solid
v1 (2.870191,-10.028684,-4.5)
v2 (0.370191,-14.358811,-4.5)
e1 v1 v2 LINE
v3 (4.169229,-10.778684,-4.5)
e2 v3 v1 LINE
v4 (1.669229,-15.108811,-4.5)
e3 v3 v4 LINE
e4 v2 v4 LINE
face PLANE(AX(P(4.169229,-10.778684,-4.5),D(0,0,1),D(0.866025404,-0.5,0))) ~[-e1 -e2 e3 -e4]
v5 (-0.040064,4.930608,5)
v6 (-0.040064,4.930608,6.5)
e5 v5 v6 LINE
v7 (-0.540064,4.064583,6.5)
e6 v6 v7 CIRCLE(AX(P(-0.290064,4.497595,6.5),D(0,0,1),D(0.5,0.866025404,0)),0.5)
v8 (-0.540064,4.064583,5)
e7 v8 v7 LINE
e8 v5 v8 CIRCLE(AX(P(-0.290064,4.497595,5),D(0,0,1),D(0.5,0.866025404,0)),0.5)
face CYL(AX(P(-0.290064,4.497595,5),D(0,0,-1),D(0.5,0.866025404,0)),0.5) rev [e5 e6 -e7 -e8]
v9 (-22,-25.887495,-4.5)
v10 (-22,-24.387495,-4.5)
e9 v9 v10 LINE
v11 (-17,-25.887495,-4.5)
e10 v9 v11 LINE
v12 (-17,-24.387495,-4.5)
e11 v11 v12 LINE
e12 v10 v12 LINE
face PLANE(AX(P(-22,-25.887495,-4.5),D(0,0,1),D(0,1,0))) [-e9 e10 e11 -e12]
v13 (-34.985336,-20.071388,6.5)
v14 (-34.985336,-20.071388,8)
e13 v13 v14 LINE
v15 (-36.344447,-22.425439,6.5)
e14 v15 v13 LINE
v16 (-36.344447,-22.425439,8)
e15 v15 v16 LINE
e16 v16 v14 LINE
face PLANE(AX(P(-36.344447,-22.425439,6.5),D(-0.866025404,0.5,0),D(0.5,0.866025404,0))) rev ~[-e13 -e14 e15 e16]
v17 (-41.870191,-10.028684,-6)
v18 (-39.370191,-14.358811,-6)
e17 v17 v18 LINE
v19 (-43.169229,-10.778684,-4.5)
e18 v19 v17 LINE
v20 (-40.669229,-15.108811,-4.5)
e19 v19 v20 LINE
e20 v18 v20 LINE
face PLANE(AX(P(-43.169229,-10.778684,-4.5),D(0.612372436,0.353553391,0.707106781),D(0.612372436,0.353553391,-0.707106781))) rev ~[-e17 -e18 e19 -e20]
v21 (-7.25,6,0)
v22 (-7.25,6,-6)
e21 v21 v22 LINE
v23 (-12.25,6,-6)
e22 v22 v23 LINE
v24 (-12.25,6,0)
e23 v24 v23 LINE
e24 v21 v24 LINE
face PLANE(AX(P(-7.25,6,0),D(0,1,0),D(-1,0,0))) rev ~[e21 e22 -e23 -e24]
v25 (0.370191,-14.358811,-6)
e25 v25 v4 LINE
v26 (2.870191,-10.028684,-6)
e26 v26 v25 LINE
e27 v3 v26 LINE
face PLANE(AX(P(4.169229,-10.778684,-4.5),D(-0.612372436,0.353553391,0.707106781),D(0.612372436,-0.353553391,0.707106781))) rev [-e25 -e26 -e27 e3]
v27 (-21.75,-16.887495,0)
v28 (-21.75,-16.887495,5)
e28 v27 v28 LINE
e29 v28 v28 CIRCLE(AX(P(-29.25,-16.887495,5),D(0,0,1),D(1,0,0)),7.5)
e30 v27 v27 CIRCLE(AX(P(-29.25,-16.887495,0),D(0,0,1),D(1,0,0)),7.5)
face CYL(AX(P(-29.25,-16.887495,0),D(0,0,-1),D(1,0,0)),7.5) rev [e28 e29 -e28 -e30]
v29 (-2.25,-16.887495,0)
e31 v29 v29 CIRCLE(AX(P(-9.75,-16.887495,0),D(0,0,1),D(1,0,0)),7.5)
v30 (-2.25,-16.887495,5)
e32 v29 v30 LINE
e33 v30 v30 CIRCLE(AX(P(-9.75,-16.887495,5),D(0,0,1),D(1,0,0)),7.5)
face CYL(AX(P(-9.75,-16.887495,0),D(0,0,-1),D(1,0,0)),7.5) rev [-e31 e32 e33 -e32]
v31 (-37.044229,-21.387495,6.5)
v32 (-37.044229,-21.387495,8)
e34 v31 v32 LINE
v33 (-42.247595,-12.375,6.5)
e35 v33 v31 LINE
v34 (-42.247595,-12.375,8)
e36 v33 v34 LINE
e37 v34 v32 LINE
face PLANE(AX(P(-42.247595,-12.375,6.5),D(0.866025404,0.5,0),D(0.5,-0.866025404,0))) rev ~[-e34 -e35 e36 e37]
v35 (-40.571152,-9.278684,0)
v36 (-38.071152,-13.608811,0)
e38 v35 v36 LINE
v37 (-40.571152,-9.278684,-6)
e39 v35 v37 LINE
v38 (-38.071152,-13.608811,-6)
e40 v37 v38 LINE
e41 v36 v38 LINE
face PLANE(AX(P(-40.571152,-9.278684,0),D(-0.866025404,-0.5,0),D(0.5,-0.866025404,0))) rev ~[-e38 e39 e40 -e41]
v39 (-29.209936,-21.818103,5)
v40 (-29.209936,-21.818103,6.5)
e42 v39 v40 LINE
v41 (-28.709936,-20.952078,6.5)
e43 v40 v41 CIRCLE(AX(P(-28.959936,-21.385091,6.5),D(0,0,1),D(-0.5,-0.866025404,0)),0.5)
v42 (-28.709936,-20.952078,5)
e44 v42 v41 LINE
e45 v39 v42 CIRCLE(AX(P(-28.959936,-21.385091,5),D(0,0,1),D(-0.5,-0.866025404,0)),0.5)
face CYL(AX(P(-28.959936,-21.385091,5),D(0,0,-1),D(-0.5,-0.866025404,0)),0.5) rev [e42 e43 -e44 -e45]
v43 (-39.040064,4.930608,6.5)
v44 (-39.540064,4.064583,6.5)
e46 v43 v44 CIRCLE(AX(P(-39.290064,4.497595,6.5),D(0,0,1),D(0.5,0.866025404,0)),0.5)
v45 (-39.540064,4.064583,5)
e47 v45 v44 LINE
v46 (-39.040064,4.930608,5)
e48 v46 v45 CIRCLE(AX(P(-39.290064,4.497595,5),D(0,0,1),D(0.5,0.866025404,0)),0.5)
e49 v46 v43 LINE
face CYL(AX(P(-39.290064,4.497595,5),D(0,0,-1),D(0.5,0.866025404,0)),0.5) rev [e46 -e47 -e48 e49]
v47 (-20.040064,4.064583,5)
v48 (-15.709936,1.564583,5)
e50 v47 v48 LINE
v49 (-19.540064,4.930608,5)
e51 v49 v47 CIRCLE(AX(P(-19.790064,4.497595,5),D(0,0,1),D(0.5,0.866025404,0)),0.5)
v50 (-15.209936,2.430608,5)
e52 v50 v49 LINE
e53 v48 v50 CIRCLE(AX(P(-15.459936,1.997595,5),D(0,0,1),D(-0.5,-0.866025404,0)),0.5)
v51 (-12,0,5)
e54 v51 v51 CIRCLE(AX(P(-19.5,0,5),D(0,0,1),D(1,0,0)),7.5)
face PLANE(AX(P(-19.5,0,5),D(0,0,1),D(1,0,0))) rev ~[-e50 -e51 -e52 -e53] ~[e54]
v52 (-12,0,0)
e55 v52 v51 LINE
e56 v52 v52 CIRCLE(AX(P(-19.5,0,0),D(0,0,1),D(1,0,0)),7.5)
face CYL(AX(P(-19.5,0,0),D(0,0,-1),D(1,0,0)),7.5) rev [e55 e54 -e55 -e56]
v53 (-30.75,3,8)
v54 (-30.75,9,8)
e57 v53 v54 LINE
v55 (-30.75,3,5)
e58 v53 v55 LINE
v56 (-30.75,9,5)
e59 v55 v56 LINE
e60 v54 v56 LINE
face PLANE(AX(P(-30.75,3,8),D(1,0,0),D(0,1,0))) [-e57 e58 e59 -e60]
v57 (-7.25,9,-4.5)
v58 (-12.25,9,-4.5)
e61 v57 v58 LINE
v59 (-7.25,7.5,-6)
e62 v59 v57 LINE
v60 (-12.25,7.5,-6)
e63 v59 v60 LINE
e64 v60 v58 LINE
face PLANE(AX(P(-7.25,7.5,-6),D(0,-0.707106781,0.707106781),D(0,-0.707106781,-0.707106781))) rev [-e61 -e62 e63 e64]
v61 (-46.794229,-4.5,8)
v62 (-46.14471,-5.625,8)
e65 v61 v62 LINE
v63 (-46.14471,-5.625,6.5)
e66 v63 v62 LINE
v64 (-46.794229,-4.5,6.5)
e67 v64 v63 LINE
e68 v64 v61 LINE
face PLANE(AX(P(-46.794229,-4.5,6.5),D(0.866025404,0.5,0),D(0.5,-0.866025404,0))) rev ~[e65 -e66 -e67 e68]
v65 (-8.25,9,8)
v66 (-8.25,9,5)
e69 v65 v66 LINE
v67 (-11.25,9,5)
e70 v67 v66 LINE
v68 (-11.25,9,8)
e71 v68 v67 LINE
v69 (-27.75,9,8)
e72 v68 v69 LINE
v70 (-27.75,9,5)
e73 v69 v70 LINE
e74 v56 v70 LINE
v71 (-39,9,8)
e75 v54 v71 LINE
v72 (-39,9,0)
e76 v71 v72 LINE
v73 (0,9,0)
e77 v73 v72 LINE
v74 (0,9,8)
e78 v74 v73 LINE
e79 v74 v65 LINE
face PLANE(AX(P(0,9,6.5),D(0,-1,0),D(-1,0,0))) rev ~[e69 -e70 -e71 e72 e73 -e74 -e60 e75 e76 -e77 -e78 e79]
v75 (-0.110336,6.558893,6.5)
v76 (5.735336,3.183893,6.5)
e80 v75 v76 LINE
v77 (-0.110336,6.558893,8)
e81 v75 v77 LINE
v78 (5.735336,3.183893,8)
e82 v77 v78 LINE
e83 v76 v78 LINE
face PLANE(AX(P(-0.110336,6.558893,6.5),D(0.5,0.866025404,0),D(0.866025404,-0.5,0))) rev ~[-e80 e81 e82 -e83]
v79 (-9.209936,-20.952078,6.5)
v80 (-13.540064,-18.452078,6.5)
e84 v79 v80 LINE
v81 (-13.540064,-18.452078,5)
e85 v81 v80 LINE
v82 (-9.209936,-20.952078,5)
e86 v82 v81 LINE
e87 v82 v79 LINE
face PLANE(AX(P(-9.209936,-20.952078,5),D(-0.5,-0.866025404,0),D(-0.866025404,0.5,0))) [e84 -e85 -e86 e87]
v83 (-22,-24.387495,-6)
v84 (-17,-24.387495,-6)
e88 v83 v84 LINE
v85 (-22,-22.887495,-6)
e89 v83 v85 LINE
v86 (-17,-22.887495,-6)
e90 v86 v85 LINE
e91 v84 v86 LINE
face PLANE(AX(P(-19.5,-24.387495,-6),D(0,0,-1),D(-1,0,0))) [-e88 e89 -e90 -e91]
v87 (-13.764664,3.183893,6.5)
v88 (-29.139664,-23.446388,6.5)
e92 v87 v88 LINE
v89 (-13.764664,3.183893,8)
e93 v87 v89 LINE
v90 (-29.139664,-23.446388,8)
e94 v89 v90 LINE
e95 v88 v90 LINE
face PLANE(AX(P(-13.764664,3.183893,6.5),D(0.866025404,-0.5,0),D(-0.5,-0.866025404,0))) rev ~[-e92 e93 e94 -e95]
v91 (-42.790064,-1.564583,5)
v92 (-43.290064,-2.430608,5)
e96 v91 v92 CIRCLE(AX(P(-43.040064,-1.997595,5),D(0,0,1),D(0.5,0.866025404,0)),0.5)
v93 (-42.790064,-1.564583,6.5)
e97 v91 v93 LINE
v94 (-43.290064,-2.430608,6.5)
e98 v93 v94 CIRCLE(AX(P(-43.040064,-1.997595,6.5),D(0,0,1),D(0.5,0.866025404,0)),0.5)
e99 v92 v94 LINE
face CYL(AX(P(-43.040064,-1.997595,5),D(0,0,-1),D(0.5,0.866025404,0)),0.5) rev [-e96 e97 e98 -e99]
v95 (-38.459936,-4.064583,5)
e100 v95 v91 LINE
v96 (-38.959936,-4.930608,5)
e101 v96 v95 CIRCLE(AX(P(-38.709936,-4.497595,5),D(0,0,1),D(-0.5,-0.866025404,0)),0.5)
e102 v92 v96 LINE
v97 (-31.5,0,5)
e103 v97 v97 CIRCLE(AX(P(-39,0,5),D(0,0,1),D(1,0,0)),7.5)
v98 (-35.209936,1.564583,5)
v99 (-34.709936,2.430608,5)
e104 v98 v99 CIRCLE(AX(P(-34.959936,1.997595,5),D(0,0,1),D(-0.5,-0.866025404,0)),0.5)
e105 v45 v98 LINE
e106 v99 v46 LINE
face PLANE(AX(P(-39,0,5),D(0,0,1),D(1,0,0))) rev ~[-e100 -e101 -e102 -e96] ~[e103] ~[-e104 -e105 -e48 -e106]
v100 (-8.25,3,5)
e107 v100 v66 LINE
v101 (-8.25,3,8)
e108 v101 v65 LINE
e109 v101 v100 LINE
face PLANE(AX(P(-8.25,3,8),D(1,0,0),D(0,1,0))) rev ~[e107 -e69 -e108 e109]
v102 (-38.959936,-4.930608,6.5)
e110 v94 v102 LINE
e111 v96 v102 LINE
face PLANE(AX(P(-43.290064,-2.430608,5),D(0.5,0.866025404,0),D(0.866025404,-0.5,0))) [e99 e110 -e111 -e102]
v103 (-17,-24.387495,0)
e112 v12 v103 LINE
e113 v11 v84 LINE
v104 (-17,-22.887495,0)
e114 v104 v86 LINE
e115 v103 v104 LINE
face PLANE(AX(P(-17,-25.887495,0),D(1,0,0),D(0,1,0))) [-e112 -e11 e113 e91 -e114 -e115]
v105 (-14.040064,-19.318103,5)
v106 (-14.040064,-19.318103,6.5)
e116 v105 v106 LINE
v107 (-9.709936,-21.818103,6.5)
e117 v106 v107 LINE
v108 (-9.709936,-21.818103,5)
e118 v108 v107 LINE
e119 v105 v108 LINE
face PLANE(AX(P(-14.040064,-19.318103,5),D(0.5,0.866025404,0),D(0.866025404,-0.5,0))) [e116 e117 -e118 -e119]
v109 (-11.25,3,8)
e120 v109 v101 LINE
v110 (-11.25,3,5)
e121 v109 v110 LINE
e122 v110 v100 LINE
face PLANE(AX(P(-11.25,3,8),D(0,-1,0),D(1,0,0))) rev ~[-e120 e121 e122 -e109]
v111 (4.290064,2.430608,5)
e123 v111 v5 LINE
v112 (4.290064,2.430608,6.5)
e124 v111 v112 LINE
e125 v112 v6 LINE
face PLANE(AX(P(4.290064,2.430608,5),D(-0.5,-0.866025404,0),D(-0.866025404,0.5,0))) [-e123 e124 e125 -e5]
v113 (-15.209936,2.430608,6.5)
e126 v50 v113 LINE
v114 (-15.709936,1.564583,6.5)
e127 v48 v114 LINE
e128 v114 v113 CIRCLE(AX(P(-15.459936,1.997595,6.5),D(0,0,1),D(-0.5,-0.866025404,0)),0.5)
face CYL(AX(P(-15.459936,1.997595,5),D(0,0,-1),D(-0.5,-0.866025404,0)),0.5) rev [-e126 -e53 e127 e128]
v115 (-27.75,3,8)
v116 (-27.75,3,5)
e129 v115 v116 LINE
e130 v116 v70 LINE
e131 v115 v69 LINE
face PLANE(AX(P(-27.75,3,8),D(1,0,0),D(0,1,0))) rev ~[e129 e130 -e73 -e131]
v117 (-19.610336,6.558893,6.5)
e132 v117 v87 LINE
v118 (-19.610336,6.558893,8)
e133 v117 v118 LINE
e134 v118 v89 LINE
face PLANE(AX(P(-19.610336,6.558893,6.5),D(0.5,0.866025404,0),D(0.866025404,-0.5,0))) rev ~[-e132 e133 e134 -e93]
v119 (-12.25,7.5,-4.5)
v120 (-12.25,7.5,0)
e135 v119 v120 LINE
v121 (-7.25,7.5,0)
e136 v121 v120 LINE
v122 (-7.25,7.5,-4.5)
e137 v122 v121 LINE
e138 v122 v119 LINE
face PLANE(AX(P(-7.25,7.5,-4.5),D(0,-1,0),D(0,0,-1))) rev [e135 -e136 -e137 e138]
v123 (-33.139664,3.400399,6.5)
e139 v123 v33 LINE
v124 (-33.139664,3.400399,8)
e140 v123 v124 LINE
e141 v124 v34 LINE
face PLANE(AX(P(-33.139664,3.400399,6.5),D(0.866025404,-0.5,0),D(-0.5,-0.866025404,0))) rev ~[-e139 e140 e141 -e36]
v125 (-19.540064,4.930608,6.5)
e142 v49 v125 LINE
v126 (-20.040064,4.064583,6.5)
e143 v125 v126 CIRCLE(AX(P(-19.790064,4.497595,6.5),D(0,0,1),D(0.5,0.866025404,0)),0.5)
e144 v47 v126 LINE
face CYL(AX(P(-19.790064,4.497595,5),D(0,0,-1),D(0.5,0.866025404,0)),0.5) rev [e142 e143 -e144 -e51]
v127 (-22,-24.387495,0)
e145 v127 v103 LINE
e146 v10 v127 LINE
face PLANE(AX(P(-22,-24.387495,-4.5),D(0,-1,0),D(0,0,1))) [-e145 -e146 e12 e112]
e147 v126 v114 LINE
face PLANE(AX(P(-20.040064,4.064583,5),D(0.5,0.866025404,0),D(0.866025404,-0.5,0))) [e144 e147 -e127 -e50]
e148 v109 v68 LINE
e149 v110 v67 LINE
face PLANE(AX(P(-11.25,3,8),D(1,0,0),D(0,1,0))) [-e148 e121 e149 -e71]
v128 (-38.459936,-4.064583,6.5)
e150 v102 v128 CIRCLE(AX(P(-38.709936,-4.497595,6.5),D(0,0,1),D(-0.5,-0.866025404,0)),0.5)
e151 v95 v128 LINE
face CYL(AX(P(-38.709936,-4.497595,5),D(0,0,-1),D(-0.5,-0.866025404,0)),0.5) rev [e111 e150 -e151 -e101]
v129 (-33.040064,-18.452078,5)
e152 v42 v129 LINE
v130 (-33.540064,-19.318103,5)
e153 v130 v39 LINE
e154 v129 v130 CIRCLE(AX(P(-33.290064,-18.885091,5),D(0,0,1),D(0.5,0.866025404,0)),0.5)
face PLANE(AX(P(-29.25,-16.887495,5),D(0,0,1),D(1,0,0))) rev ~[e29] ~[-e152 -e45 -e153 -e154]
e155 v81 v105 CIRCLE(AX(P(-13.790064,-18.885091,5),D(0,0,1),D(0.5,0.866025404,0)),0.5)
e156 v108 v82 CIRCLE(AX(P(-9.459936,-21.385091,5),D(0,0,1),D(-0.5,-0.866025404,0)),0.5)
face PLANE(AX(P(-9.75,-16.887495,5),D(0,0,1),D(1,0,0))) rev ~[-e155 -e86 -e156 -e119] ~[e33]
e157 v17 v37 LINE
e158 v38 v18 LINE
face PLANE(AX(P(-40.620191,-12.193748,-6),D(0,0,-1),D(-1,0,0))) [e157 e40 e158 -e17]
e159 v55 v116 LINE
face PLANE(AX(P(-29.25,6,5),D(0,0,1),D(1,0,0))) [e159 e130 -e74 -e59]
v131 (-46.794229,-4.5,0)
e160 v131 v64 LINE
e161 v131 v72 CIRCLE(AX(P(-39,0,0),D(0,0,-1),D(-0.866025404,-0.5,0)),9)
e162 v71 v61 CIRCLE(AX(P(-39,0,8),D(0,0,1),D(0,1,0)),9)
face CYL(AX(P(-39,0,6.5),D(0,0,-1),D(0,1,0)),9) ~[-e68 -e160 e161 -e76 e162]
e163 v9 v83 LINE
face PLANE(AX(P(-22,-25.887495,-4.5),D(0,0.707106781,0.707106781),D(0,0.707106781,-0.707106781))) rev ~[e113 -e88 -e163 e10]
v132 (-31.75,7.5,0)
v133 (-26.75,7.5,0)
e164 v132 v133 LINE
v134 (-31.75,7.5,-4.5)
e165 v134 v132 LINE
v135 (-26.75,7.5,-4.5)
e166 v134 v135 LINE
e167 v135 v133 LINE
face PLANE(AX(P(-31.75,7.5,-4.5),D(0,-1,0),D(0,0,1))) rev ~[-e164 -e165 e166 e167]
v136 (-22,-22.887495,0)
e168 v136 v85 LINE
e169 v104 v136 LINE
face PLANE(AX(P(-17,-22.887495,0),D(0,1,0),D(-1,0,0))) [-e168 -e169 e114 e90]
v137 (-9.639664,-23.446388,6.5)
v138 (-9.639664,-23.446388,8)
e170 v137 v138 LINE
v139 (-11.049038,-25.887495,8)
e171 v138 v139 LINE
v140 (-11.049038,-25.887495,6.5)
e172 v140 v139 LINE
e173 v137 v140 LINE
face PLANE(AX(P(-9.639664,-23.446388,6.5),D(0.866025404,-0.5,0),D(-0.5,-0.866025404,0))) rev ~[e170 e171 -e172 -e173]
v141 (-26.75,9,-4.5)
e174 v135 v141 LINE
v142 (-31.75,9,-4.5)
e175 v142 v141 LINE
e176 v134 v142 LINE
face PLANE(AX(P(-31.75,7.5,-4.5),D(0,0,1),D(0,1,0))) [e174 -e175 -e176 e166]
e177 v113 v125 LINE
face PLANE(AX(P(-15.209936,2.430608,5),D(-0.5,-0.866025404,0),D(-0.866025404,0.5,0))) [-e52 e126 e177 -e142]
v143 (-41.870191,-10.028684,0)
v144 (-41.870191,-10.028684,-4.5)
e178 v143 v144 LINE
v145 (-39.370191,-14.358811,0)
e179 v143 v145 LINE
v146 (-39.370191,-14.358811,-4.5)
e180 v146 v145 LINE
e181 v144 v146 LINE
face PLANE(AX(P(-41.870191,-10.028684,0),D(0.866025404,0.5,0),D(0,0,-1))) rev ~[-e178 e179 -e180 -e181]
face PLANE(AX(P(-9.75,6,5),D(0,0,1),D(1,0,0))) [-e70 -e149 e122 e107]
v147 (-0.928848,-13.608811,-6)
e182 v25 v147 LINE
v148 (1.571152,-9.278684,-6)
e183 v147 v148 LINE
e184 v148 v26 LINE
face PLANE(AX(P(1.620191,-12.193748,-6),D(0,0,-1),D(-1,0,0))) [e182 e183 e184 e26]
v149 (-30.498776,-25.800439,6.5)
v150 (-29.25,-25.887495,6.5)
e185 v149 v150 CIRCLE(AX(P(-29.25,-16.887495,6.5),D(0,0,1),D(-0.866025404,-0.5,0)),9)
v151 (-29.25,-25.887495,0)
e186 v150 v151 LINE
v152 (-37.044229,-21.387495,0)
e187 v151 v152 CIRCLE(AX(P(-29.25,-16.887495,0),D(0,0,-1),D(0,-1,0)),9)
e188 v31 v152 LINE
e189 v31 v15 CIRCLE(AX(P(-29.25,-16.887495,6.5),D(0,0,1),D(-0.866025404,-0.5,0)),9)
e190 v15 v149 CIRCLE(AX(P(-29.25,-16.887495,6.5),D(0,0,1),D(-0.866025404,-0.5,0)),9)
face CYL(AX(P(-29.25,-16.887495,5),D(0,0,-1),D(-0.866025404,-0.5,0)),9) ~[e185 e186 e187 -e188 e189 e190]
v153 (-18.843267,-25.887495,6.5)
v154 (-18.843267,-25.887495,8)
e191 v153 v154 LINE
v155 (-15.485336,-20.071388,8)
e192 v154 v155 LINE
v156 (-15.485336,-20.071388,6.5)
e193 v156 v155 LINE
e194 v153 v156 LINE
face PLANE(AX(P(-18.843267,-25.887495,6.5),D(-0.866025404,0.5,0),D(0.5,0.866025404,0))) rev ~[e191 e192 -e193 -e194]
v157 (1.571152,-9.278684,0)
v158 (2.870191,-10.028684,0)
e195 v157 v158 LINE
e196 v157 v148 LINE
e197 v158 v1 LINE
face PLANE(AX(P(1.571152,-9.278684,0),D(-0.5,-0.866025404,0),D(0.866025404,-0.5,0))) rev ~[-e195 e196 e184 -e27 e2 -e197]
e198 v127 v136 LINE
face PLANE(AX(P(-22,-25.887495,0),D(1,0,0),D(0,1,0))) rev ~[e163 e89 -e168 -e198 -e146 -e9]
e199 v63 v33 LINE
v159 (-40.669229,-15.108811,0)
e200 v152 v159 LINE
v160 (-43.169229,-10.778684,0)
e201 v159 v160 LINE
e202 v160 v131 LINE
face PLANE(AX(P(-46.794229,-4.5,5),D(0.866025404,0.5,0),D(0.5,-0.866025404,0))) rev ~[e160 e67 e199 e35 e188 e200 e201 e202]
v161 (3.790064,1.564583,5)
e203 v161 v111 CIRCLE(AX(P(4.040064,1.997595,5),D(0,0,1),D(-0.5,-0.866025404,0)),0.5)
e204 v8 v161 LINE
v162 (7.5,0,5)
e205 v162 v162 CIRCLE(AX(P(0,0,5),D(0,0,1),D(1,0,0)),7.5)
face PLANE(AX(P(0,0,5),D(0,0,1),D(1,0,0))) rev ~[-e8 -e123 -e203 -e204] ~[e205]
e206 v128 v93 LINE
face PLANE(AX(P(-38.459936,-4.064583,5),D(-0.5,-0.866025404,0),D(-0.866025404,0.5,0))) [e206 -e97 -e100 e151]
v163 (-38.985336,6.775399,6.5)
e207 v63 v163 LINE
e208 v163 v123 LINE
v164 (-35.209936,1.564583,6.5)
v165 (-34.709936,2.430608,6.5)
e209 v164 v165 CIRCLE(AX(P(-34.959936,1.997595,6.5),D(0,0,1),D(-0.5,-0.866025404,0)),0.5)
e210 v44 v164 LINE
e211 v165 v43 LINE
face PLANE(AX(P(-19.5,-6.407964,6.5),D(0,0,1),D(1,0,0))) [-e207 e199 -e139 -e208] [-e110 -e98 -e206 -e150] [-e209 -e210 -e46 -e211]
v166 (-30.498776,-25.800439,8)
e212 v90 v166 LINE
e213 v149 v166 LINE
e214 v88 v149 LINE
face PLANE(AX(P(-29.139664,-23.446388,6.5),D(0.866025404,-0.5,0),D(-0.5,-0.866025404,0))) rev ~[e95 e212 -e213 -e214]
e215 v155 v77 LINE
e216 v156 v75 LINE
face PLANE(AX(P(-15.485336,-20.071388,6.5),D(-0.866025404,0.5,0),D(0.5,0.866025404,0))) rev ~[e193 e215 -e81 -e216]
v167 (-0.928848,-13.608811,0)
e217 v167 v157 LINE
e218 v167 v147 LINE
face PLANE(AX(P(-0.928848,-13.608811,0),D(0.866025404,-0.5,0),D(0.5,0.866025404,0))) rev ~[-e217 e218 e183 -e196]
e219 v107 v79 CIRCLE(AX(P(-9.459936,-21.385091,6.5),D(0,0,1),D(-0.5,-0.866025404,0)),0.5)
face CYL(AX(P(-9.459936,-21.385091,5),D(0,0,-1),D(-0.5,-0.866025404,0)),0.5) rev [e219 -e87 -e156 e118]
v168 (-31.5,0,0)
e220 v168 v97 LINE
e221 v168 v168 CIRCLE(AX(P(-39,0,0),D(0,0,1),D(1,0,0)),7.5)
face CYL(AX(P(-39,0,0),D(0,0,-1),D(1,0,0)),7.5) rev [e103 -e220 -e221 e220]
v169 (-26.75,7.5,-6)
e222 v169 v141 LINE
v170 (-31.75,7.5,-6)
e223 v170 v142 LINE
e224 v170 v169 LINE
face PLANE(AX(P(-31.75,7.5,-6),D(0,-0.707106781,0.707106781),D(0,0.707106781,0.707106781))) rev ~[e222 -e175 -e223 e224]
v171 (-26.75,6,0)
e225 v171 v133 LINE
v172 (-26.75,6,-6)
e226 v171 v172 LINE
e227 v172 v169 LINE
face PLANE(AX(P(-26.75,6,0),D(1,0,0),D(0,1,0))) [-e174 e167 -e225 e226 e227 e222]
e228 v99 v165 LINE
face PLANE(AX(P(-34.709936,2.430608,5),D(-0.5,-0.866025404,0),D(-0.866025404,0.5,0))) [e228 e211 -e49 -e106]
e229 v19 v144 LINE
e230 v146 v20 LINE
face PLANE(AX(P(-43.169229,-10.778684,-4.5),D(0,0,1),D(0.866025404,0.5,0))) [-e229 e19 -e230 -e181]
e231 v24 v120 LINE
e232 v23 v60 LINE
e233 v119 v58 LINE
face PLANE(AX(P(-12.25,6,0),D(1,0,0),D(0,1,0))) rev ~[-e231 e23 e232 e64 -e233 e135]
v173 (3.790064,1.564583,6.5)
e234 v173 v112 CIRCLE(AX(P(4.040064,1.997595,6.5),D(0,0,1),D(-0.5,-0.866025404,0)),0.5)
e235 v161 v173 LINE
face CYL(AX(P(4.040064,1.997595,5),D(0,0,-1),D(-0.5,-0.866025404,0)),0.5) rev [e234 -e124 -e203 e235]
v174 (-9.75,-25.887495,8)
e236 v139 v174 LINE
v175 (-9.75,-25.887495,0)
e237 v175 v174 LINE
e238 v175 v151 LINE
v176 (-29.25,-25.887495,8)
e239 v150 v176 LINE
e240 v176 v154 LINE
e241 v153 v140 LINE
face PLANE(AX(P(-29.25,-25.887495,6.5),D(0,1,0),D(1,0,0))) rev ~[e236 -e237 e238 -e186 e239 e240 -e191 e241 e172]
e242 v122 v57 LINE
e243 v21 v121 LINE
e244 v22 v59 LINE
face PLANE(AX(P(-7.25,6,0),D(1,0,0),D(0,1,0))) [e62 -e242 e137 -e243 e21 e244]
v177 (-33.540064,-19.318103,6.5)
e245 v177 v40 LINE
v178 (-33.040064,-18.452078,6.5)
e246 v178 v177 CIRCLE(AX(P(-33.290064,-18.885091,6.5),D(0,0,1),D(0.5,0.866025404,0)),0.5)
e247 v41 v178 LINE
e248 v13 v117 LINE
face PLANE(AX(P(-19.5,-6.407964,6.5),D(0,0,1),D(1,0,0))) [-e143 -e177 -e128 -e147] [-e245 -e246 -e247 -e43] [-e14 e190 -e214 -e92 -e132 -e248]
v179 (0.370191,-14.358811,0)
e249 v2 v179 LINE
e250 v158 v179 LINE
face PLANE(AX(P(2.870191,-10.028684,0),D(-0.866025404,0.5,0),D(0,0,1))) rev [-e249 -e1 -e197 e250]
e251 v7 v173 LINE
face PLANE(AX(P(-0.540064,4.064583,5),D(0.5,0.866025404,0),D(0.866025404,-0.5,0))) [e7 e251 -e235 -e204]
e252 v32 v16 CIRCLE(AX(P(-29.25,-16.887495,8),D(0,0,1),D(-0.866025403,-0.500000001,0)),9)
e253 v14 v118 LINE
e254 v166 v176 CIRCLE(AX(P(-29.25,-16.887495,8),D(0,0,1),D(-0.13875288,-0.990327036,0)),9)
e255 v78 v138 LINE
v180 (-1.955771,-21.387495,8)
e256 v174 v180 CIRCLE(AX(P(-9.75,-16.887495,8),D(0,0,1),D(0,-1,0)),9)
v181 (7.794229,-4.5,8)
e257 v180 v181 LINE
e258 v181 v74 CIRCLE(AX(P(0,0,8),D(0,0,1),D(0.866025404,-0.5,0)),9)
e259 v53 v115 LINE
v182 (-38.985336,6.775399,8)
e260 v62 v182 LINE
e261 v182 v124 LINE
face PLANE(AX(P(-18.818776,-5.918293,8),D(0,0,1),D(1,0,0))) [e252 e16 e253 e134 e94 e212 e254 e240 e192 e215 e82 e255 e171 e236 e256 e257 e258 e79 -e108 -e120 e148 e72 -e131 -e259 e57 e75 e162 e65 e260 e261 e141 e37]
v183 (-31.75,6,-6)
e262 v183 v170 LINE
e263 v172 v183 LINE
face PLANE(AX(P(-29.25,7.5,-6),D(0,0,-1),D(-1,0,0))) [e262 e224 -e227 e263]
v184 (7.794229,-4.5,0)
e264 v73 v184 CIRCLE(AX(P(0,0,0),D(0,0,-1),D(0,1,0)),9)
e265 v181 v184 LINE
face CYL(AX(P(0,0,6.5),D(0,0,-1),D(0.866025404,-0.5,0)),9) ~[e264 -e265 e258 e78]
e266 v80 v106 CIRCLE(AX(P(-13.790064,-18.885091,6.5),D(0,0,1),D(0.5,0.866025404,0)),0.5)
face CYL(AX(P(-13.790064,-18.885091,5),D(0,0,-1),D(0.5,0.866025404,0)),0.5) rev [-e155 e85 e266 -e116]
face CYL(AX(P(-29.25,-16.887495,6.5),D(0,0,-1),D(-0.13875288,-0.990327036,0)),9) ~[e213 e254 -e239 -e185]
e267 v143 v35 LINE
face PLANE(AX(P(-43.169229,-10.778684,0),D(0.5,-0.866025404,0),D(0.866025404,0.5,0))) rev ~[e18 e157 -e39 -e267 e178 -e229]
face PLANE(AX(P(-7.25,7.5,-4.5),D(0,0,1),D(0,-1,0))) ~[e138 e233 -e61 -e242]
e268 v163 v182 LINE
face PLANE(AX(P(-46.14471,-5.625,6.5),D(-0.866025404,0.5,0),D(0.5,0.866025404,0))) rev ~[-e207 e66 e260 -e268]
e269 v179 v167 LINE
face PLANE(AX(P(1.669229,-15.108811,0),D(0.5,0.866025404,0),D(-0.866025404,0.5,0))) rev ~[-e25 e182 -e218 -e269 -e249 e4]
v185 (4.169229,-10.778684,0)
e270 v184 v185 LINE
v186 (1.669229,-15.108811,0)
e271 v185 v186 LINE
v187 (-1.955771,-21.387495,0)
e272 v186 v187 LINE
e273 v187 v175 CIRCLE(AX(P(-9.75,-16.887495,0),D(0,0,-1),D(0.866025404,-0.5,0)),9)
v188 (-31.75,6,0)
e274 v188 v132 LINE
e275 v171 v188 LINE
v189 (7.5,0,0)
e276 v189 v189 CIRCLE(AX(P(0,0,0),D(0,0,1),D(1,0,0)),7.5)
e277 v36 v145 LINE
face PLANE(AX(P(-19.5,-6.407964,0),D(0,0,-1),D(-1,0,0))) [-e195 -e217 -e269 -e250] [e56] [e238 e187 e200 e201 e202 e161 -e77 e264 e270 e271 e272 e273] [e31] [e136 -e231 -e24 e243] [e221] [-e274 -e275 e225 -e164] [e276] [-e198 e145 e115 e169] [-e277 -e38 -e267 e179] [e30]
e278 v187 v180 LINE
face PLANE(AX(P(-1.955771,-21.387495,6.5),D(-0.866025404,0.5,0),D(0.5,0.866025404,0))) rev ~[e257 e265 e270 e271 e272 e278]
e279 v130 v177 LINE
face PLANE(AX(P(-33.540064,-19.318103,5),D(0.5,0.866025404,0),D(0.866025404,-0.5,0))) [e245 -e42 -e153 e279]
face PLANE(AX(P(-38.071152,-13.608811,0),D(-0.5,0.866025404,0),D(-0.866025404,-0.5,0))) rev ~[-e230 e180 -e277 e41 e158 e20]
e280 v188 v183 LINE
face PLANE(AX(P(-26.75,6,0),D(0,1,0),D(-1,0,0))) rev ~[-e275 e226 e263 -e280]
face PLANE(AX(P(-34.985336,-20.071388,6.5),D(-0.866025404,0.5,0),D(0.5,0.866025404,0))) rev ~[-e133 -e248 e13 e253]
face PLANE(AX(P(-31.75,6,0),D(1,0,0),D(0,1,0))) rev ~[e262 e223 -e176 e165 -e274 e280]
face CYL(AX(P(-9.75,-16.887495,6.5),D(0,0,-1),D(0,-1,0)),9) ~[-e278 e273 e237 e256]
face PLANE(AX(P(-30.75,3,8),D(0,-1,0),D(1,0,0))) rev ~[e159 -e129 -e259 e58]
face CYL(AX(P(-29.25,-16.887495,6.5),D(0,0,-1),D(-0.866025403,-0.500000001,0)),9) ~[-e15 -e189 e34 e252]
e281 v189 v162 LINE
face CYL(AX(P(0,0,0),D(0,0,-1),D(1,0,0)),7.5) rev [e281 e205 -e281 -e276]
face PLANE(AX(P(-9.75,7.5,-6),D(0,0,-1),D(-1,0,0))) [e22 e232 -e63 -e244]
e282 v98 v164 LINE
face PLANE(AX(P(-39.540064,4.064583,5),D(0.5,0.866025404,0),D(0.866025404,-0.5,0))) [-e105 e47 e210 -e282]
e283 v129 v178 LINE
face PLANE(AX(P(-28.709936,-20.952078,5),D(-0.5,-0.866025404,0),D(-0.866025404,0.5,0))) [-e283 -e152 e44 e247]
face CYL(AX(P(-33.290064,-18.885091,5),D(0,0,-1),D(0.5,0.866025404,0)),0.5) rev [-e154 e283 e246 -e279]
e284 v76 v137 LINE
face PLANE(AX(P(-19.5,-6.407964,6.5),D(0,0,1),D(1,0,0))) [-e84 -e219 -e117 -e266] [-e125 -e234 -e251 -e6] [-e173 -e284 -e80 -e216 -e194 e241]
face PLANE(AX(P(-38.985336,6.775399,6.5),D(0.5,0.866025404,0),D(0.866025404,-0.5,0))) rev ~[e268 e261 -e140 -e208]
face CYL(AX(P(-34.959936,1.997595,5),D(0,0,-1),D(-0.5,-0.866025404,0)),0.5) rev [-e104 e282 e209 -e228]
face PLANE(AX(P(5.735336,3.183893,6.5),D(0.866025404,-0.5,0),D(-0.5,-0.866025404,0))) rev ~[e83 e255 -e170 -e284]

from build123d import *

# Parameters (mm, degrees)
SKETCH1_R           = 7.5
BOSS_EXTRUDE1_DEPTH = 5
BOSS_EXTRUDE2_DEPTH = 1.5
BOSS_EXTRUDE3_DEPTH = 1.5
SKETCH4_W           = 5
SKETCH4_H           = 3
BOSS_EXTRUDE4_DEPTH = 6
CUT_EXTRUDE1_REACH  = 58.12
SKETCH5_W           = 1.5
SKETCH5_H           = 4.5
CUT_EXTRUDE2_REACH  = 50.936
SKETCH7_W           = 4.5
SKETCH7_H           = 1.5
CUT_EXTRUDE3_REACH  = 43.172
SKETCH8_W           = 4.5
SKETCH8_H           = 1.5
SKETCH9_W           = 3
SKETCH9_H           = 6
CUT_EXTRUDE4_DEPTH  = 3


with BuildPart() as part:
    # Sketch1 → Boss-Extrude1 (new body)
    with BuildSketch(Plane.XY):
        with BuildLine():
            Line((7.794228634, -4.5), (-1.955771366, -21.387495374))
            ThreePointArc((-1.955771366, -21.387495374), (-5.25, -24.681724008), (-9.75, -25.887495374))
            Line((-9.75, -25.887495374), (-29.25, -25.887495374))
            ThreePointArc((-29.25, -25.887495374), (-33.75, -24.681724008), (-37.044228634, -21.387495374))
            Line((-37.044228634, -21.387495374), (-46.794228634, -4.5))
            ThreePointArc((-46.794228634, -4.5), (-46.794228634, 4.5), (-39, 9))
            Line((-39, 9), (0, 9))
            ThreePointArc((0, 9), (7.794228634, 4.5), (7.794228634, -4.5))
        make_face()
        with Locations((-29.25, -16.887495374)):
            Circle(SKETCH1_R, mode=Mode.SUBTRACT)
        with Locations((-19.5, 0)):
            Circle(SKETCH1_R, mode=Mode.SUBTRACT)
        Circle(SKETCH1_R, mode=Mode.SUBTRACT)
        with Locations((-9.75, -16.887495374)):
            Circle(SKETCH1_R, mode=Mode.SUBTRACT)
        with Locations((-39, 0)):
            Circle(SKETCH1_R, mode=Mode.SUBTRACT)
    extrude(amount=BOSS_EXTRUDE1_DEPTH)

    # Sketch2 → Boss-Extrude2 (add)
    with BuildSketch(Plane.XY.offset(5)):
        with BuildLine():
            ThreePointArc((-9.75, -25.887495374), (-5.25, -24.681724008), (-1.955771366, -21.387495374))
            Line((-1.955771366, -21.387495374), (7.794228634, -4.5))
            ThreePointArc((7.794228634, -4.5), (7.794228634, 4.5), (0, 9))
            Line((0, 9), (-39, 9))
            ThreePointArc((-39, 9), (-46.794228634, 4.5), (-46.794228634, -4.5))
            Line((-46.794228634, -4.5), (-37.044228634, -21.387495374))
            ThreePointArc((-37.044228634, -21.387495374), (-33.75, -24.681724008), (-29.25, -25.887495374))
            Line((-29.25, -25.887495374), (-9.75, -25.887495374))
        make_face()
        with BuildLine():
            Line((-29.209936491, -21.81810334), (-33.540063509, -19.31810334))
            ThreePointArc((-33.540063509, -19.31810334), (-33.723076211, -18.635090638), (-33.040063509, -18.452077936))
            Line((-33.040063509, -18.452077936), (-28.709936491, -20.952077936))
            ThreePointArc((-28.709936491, -20.952077936), (-28.526923789, -21.635090638), (-29.209936491, -21.81810334))
        make_face(mode=Mode.SUBTRACT)
        with BuildLine():
            Line((-9.709936491, -21.81810334), (-14.040063509, -19.31810334))
            ThreePointArc((-14.040063509, -19.31810334), (-14.223076211, -18.635090638), (-13.540063509, -18.452077936))
            Line((-13.540063509, -18.452077936), (-9.209936491, -20.952077936))
            ThreePointArc((-9.209936491, -20.952077936), (-9.026923789, -21.635090638), (-9.709936491, -21.81810334))
        make_face(mode=Mode.SUBTRACT)
        with BuildLine():
            Line((-35.209936491, 1.564582562), (-39.540063509, 4.064582562))
            ThreePointArc((-39.540063509, 4.064582562), (-39.723076211, 4.747595264), (-39.040063509, 4.930607966))
            Line((-39.040063509, 4.930607966), (-34.709936491, 2.430607966))
            ThreePointArc((-34.709936491, 2.430607966), (-34.526923789, 1.747595264), (-35.209936491, 1.564582562))
        make_face(mode=Mode.SUBTRACT)
        with BuildLine():
            ThreePointArc((-38.459936491, -4.064582562), (-38.276923789, -4.747595264), (-38.959936491, -4.930607966))
            Line((-38.959936491, -4.930607966), (-43.290063509, -2.430607966))
            ThreePointArc((-43.290063509, -2.430607966), (-43.473076211, -1.747595264), (-42.790063509, -1.564582562))
            Line((-42.790063509, -1.564582562), (-38.459936491, -4.064582562))
        make_face(mode=Mode.SUBTRACT)
        with BuildLine():
            Line((-15.709936491, 1.564582562), (-20.040063509, 4.064582562))
            ThreePointArc((-20.040063509, 4.064582562), (-20.223076211, 4.747595264), (-19.540063509, 4.930607966))
            Line((-19.540063509, 4.930607966), (-15.209936491, 2.430607966))
            ThreePointArc((-15.209936491, 2.430607966), (-15.026923789, 1.747595264), (-15.709936491, 1.564582562))
        make_face(mode=Mode.SUBTRACT)
        with BuildLine():
            Line((3.790063509, 1.564582562), (-0.540063509, 4.064582562))
            ThreePointArc((-0.540063509, 4.064582562), (-0.723076211, 4.747595264), (-0.040063509, 4.930607966))
            Line((-0.040063509, 4.930607966), (4.290063509, 2.430607966))
            ThreePointArc((4.290063509, 2.430607966), (4.473076211, 1.747595264), (3.790063509, 1.564582562))
        make_face(mode=Mode.SUBTRACT)
    extrude(amount=BOSS_EXTRUDE2_DEPTH)

    # Sketch3 → Boss-Extrude3 (add)
    with BuildSketch(Plane.XY.offset(6.5)):
        with BuildLine():
            ThreePointArc((-39, 9), (-46.794228634, 4.5), (-46.794228634, -4.5))
            Line((-46.794228634, -4.5), (-46.144709581, -5.625))
            Line((-46.144709581, -5.625), (-38.985335738, 6.775399247))
            Line((-38.985335738, 6.775399247), (-33.139664262, 3.400399247))
            Line((-33.139664262, 3.400399247), (-42.247595264, -12.375))
            Line((-42.247595264, -12.375), (-37.044228634, -21.387495374))
            ThreePointArc((-37.044228634, -21.387495374), (-36.712405778, -21.918648323), (-36.344447387, -22.425438699))
            Line((-36.344447387, -22.425438699), (-34.985335738, -20.07138827))
            Line((-34.985335738, -20.07138827), (-19.610335738, 6.558892896))
            Line((-19.610335738, 6.558892896), (-13.764664262, 3.183892896))
            Line((-13.764664262, 3.183892896), (-29.139664262, -23.44638827))
            Line((-29.139664262, -23.44638827), (-30.498775911, -25.800438699))
            ThreePointArc((-30.498775911, -25.800438699), (-29.875903375, -25.865704826), (-29.25, -25.887495374))
            Line((-29.25, -25.887495374), (-18.84326674, -25.887495374))
            Line((-18.84326674, -25.887495374), (-15.485335738, -20.07138827))
            Line((-15.485335738, -20.07138827), (-0.110335738, 6.558892896))
            Line((-0.110335738, 6.558892896), (5.735335738, 3.183892896))
            Line((5.735335738, 3.183892896), (-9.639664262, -23.44638827))
            Line((-9.639664262, -23.44638827), (-11.049038106, -25.887495374))
            Line((-11.049038106, -25.887495374), (-9.75, -25.887495374))
            ThreePointArc((-9.75, -25.887495374), (-5.25, -24.681724008), (-1.955771366, -21.387495374))
            Line((-1.955771366, -21.387495374), (7.794228634, -4.5))
            ThreePointArc((7.794228634, -4.5), (7.794228634, 4.5), (0, 9))
            Line((0, 9), (-39, 9))
        make_face()
    extrude(amount=BOSS_EXTRUDE3_DEPTH)

    # Sketch4 → Boss-Extrude4 (add)
    with BuildSketch(Plane(origin=(0, 0, 0), x_dir=(-1, 0, 0), z_dir=(0, 0, -1))):
        with Locations((19.5, -24.387495374)):
            Rectangle(SKETCH4_W, SKETCH4_H)
        with Locations((29.25, 7.5)):
            Rectangle(SKETCH4_W, SKETCH4_H)
        with Locations((9.75, 7.5)):
            Rectangle(SKETCH4_W, SKETCH4_H)
        Polygon((40.669228634, -15.108811196), (43.169228634, -10.778684177), (40.571152423, -9.278684177), (38.071152423, -13.608811196), align=None)
        Polygon((-4.169228634, -10.778684177), (-1.669228634, -15.108811196), (0.928847577, -13.608811196), (-1.571152423, -9.278684177), align=None)
    extrude(amount=BOSS_EXTRUDE4_DEPTH)

    # Sketch5 → Cut-Extrude1 (cut, up to next)
    with BuildSketch(Plane(origin=(-6.125, 10.608811196, 0), x_dir=(0.8660254037844386, 0.5000000000000001, 0), z_dir=(-0.5000000000000001, 0.8660254037844386, 0)), mode=Mode.PRIVATE) as cut_extrude1_sk1:
        with Locations((-42.024990748, 2.25)):
            Rectangle(SKETCH5_W, SKETCH5_H)
    cut_extrude1_tool1 = extrude(cut_extrude1_sk1.sketch, amount=-CUT_EXTRUDE1_REACH, mode=Mode.PRIVATE) & part.part
    # Sketch5 → Cut-Extrude1 (cut, up to next)
    with BuildSketch(Plane(origin=(-6.125, 10.608811196, 0), x_dir=(0.8660254037844386, 0.5000000000000001, 0), z_dir=(-0.5000000000000001, 0.8660254037844386, 0)), mode=Mode.PRIVATE) as cut_extrude1_sk2:
        Polygon((-42.774990748, 6), (-42.774990748, 4.5), (-41.274990748, 6), align=None)
    cut_extrude1_tool2 = extrude(cut_extrude1_sk2.sketch, amount=-CUT_EXTRUDE1_REACH, mode=Mode.PRIVATE) & part.part
    cut_extrude1_1 = cut_extrude1_tool1.solids().sort_by_distance((-42.51971, -10.403684, -2.25))[0]
    add(cut_extrude1_1, mode=Mode.SUBTRACT)
    cut_extrude1_2 = cut_extrude1_tool2.solids().sort_by_distance((-42.736216, -10.528684, -5.5))[0]
    add(cut_extrude1_2, mode=Mode.SUBTRACT)
    cut_extrude1 = cut_extrude1_1 + cut_extrude1_2  # Cut-Extrude1 as one shape, for the pattern or mirror that repeats it

    # Sketch7 → Cut-Extrude2 (cut, up to next)
    with BuildSketch(Plane.ZY.offset(31.75), mode=Mode.PRIVATE) as cut_extrude2_sk1:
        with Locations((-2.25, 8.25)):
            Rectangle(SKETCH7_W, SKETCH7_H)
    cut_extrude2_tool1 = extrude(cut_extrude2_sk1.sketch, amount=-CUT_EXTRUDE2_REACH, mode=Mode.PRIVATE) & part.part
    # Sketch7 → Cut-Extrude2 (cut, up to next)
    with BuildSketch(Plane.ZY.offset(31.75), mode=Mode.PRIVATE) as cut_extrude2_sk2:
        Polygon((-6, 7.5), (-4.5, 9), (-6, 9), align=None)
    cut_extrude2_tool2 = extrude(cut_extrude2_sk2.sketch, amount=-CUT_EXTRUDE2_REACH, mode=Mode.PRIVATE) & part.part
    cut_extrude2_1 = cut_extrude2_tool1.solids().sort_by_distance((-31.75, 8.25, -2.25))[0]
    add(cut_extrude2_1, mode=Mode.SUBTRACT)
    cut_extrude2_2 = cut_extrude2_tool2.solids().sort_by_distance((-31.75, 8.5, -5.5))[0]
    add(cut_extrude2_2, mode=Mode.SUBTRACT)
    cut_extrude2 = cut_extrude2_1 + cut_extrude2_2  # Cut-Extrude2 as one shape, for the pattern or mirror that repeats it

    # Mirror1: Cut-Extrude1, Cut-Extrude2 across plane
    add(cut_extrude1.mirror(Plane(origin=(-19.5, 0, 0), x_dir=(0, 0, 1), z_dir=(1, 0, 0))), mode=Mode.SUBTRACT)
    add(cut_extrude2.mirror(Plane(origin=(-19.5, 0, 0), x_dir=(0, 0, 1), z_dir=(1, 0, 0))), mode=Mode.SUBTRACT)

    # Sketch8 → Cut-Extrude3 (cut, up to next)
    with BuildSketch(Plane.ZY.offset(22), mode=Mode.PRIVATE) as cut_extrude3_sk1:
        Polygon((-6, -25.887495374), (-4.5, -25.887495374), (-6, -24.387495374), align=None)
    cut_extrude3_tool1 = extrude(cut_extrude3_sk1.sketch, amount=-CUT_EXTRUDE3_REACH, mode=Mode.PRIVATE) & part.part
    # Sketch8 → Cut-Extrude3 (cut, up to next)
    with BuildSketch(Plane.ZY.offset(22), mode=Mode.PRIVATE) as cut_extrude3_sk2:
        with Locations((-2.25, -25.137495374)):
            Rectangle(SKETCH8_W, SKETCH8_H)
    cut_extrude3_tool2 = extrude(cut_extrude3_sk2.sketch, amount=-CUT_EXTRUDE3_REACH, mode=Mode.PRIVATE) & part.part
    add(cut_extrude3_tool1.solids().sort_by_distance((-22, -25.387495, -5.5))[0], mode=Mode.SUBTRACT)
    add(cut_extrude3_tool2.solids().sort_by_distance((-22, -25.137495, -2.25))[0], mode=Mode.SUBTRACT)

    # Sketch9 → Cut-Extrude4 (cut)
    with BuildSketch(Plane.XY.offset(8)):
        with Locations((-29.25, 6)):
            Rectangle(SKETCH9_W, SKETCH9_H)
        with Locations((-9.75, 6)):
            Rectangle(SKETCH9_W, SKETCH9_H)
    extrude(amount=-CUT_EXTRUDE4_DEPTH, mode=Mode.SUBTRACT)


solid = part.part
